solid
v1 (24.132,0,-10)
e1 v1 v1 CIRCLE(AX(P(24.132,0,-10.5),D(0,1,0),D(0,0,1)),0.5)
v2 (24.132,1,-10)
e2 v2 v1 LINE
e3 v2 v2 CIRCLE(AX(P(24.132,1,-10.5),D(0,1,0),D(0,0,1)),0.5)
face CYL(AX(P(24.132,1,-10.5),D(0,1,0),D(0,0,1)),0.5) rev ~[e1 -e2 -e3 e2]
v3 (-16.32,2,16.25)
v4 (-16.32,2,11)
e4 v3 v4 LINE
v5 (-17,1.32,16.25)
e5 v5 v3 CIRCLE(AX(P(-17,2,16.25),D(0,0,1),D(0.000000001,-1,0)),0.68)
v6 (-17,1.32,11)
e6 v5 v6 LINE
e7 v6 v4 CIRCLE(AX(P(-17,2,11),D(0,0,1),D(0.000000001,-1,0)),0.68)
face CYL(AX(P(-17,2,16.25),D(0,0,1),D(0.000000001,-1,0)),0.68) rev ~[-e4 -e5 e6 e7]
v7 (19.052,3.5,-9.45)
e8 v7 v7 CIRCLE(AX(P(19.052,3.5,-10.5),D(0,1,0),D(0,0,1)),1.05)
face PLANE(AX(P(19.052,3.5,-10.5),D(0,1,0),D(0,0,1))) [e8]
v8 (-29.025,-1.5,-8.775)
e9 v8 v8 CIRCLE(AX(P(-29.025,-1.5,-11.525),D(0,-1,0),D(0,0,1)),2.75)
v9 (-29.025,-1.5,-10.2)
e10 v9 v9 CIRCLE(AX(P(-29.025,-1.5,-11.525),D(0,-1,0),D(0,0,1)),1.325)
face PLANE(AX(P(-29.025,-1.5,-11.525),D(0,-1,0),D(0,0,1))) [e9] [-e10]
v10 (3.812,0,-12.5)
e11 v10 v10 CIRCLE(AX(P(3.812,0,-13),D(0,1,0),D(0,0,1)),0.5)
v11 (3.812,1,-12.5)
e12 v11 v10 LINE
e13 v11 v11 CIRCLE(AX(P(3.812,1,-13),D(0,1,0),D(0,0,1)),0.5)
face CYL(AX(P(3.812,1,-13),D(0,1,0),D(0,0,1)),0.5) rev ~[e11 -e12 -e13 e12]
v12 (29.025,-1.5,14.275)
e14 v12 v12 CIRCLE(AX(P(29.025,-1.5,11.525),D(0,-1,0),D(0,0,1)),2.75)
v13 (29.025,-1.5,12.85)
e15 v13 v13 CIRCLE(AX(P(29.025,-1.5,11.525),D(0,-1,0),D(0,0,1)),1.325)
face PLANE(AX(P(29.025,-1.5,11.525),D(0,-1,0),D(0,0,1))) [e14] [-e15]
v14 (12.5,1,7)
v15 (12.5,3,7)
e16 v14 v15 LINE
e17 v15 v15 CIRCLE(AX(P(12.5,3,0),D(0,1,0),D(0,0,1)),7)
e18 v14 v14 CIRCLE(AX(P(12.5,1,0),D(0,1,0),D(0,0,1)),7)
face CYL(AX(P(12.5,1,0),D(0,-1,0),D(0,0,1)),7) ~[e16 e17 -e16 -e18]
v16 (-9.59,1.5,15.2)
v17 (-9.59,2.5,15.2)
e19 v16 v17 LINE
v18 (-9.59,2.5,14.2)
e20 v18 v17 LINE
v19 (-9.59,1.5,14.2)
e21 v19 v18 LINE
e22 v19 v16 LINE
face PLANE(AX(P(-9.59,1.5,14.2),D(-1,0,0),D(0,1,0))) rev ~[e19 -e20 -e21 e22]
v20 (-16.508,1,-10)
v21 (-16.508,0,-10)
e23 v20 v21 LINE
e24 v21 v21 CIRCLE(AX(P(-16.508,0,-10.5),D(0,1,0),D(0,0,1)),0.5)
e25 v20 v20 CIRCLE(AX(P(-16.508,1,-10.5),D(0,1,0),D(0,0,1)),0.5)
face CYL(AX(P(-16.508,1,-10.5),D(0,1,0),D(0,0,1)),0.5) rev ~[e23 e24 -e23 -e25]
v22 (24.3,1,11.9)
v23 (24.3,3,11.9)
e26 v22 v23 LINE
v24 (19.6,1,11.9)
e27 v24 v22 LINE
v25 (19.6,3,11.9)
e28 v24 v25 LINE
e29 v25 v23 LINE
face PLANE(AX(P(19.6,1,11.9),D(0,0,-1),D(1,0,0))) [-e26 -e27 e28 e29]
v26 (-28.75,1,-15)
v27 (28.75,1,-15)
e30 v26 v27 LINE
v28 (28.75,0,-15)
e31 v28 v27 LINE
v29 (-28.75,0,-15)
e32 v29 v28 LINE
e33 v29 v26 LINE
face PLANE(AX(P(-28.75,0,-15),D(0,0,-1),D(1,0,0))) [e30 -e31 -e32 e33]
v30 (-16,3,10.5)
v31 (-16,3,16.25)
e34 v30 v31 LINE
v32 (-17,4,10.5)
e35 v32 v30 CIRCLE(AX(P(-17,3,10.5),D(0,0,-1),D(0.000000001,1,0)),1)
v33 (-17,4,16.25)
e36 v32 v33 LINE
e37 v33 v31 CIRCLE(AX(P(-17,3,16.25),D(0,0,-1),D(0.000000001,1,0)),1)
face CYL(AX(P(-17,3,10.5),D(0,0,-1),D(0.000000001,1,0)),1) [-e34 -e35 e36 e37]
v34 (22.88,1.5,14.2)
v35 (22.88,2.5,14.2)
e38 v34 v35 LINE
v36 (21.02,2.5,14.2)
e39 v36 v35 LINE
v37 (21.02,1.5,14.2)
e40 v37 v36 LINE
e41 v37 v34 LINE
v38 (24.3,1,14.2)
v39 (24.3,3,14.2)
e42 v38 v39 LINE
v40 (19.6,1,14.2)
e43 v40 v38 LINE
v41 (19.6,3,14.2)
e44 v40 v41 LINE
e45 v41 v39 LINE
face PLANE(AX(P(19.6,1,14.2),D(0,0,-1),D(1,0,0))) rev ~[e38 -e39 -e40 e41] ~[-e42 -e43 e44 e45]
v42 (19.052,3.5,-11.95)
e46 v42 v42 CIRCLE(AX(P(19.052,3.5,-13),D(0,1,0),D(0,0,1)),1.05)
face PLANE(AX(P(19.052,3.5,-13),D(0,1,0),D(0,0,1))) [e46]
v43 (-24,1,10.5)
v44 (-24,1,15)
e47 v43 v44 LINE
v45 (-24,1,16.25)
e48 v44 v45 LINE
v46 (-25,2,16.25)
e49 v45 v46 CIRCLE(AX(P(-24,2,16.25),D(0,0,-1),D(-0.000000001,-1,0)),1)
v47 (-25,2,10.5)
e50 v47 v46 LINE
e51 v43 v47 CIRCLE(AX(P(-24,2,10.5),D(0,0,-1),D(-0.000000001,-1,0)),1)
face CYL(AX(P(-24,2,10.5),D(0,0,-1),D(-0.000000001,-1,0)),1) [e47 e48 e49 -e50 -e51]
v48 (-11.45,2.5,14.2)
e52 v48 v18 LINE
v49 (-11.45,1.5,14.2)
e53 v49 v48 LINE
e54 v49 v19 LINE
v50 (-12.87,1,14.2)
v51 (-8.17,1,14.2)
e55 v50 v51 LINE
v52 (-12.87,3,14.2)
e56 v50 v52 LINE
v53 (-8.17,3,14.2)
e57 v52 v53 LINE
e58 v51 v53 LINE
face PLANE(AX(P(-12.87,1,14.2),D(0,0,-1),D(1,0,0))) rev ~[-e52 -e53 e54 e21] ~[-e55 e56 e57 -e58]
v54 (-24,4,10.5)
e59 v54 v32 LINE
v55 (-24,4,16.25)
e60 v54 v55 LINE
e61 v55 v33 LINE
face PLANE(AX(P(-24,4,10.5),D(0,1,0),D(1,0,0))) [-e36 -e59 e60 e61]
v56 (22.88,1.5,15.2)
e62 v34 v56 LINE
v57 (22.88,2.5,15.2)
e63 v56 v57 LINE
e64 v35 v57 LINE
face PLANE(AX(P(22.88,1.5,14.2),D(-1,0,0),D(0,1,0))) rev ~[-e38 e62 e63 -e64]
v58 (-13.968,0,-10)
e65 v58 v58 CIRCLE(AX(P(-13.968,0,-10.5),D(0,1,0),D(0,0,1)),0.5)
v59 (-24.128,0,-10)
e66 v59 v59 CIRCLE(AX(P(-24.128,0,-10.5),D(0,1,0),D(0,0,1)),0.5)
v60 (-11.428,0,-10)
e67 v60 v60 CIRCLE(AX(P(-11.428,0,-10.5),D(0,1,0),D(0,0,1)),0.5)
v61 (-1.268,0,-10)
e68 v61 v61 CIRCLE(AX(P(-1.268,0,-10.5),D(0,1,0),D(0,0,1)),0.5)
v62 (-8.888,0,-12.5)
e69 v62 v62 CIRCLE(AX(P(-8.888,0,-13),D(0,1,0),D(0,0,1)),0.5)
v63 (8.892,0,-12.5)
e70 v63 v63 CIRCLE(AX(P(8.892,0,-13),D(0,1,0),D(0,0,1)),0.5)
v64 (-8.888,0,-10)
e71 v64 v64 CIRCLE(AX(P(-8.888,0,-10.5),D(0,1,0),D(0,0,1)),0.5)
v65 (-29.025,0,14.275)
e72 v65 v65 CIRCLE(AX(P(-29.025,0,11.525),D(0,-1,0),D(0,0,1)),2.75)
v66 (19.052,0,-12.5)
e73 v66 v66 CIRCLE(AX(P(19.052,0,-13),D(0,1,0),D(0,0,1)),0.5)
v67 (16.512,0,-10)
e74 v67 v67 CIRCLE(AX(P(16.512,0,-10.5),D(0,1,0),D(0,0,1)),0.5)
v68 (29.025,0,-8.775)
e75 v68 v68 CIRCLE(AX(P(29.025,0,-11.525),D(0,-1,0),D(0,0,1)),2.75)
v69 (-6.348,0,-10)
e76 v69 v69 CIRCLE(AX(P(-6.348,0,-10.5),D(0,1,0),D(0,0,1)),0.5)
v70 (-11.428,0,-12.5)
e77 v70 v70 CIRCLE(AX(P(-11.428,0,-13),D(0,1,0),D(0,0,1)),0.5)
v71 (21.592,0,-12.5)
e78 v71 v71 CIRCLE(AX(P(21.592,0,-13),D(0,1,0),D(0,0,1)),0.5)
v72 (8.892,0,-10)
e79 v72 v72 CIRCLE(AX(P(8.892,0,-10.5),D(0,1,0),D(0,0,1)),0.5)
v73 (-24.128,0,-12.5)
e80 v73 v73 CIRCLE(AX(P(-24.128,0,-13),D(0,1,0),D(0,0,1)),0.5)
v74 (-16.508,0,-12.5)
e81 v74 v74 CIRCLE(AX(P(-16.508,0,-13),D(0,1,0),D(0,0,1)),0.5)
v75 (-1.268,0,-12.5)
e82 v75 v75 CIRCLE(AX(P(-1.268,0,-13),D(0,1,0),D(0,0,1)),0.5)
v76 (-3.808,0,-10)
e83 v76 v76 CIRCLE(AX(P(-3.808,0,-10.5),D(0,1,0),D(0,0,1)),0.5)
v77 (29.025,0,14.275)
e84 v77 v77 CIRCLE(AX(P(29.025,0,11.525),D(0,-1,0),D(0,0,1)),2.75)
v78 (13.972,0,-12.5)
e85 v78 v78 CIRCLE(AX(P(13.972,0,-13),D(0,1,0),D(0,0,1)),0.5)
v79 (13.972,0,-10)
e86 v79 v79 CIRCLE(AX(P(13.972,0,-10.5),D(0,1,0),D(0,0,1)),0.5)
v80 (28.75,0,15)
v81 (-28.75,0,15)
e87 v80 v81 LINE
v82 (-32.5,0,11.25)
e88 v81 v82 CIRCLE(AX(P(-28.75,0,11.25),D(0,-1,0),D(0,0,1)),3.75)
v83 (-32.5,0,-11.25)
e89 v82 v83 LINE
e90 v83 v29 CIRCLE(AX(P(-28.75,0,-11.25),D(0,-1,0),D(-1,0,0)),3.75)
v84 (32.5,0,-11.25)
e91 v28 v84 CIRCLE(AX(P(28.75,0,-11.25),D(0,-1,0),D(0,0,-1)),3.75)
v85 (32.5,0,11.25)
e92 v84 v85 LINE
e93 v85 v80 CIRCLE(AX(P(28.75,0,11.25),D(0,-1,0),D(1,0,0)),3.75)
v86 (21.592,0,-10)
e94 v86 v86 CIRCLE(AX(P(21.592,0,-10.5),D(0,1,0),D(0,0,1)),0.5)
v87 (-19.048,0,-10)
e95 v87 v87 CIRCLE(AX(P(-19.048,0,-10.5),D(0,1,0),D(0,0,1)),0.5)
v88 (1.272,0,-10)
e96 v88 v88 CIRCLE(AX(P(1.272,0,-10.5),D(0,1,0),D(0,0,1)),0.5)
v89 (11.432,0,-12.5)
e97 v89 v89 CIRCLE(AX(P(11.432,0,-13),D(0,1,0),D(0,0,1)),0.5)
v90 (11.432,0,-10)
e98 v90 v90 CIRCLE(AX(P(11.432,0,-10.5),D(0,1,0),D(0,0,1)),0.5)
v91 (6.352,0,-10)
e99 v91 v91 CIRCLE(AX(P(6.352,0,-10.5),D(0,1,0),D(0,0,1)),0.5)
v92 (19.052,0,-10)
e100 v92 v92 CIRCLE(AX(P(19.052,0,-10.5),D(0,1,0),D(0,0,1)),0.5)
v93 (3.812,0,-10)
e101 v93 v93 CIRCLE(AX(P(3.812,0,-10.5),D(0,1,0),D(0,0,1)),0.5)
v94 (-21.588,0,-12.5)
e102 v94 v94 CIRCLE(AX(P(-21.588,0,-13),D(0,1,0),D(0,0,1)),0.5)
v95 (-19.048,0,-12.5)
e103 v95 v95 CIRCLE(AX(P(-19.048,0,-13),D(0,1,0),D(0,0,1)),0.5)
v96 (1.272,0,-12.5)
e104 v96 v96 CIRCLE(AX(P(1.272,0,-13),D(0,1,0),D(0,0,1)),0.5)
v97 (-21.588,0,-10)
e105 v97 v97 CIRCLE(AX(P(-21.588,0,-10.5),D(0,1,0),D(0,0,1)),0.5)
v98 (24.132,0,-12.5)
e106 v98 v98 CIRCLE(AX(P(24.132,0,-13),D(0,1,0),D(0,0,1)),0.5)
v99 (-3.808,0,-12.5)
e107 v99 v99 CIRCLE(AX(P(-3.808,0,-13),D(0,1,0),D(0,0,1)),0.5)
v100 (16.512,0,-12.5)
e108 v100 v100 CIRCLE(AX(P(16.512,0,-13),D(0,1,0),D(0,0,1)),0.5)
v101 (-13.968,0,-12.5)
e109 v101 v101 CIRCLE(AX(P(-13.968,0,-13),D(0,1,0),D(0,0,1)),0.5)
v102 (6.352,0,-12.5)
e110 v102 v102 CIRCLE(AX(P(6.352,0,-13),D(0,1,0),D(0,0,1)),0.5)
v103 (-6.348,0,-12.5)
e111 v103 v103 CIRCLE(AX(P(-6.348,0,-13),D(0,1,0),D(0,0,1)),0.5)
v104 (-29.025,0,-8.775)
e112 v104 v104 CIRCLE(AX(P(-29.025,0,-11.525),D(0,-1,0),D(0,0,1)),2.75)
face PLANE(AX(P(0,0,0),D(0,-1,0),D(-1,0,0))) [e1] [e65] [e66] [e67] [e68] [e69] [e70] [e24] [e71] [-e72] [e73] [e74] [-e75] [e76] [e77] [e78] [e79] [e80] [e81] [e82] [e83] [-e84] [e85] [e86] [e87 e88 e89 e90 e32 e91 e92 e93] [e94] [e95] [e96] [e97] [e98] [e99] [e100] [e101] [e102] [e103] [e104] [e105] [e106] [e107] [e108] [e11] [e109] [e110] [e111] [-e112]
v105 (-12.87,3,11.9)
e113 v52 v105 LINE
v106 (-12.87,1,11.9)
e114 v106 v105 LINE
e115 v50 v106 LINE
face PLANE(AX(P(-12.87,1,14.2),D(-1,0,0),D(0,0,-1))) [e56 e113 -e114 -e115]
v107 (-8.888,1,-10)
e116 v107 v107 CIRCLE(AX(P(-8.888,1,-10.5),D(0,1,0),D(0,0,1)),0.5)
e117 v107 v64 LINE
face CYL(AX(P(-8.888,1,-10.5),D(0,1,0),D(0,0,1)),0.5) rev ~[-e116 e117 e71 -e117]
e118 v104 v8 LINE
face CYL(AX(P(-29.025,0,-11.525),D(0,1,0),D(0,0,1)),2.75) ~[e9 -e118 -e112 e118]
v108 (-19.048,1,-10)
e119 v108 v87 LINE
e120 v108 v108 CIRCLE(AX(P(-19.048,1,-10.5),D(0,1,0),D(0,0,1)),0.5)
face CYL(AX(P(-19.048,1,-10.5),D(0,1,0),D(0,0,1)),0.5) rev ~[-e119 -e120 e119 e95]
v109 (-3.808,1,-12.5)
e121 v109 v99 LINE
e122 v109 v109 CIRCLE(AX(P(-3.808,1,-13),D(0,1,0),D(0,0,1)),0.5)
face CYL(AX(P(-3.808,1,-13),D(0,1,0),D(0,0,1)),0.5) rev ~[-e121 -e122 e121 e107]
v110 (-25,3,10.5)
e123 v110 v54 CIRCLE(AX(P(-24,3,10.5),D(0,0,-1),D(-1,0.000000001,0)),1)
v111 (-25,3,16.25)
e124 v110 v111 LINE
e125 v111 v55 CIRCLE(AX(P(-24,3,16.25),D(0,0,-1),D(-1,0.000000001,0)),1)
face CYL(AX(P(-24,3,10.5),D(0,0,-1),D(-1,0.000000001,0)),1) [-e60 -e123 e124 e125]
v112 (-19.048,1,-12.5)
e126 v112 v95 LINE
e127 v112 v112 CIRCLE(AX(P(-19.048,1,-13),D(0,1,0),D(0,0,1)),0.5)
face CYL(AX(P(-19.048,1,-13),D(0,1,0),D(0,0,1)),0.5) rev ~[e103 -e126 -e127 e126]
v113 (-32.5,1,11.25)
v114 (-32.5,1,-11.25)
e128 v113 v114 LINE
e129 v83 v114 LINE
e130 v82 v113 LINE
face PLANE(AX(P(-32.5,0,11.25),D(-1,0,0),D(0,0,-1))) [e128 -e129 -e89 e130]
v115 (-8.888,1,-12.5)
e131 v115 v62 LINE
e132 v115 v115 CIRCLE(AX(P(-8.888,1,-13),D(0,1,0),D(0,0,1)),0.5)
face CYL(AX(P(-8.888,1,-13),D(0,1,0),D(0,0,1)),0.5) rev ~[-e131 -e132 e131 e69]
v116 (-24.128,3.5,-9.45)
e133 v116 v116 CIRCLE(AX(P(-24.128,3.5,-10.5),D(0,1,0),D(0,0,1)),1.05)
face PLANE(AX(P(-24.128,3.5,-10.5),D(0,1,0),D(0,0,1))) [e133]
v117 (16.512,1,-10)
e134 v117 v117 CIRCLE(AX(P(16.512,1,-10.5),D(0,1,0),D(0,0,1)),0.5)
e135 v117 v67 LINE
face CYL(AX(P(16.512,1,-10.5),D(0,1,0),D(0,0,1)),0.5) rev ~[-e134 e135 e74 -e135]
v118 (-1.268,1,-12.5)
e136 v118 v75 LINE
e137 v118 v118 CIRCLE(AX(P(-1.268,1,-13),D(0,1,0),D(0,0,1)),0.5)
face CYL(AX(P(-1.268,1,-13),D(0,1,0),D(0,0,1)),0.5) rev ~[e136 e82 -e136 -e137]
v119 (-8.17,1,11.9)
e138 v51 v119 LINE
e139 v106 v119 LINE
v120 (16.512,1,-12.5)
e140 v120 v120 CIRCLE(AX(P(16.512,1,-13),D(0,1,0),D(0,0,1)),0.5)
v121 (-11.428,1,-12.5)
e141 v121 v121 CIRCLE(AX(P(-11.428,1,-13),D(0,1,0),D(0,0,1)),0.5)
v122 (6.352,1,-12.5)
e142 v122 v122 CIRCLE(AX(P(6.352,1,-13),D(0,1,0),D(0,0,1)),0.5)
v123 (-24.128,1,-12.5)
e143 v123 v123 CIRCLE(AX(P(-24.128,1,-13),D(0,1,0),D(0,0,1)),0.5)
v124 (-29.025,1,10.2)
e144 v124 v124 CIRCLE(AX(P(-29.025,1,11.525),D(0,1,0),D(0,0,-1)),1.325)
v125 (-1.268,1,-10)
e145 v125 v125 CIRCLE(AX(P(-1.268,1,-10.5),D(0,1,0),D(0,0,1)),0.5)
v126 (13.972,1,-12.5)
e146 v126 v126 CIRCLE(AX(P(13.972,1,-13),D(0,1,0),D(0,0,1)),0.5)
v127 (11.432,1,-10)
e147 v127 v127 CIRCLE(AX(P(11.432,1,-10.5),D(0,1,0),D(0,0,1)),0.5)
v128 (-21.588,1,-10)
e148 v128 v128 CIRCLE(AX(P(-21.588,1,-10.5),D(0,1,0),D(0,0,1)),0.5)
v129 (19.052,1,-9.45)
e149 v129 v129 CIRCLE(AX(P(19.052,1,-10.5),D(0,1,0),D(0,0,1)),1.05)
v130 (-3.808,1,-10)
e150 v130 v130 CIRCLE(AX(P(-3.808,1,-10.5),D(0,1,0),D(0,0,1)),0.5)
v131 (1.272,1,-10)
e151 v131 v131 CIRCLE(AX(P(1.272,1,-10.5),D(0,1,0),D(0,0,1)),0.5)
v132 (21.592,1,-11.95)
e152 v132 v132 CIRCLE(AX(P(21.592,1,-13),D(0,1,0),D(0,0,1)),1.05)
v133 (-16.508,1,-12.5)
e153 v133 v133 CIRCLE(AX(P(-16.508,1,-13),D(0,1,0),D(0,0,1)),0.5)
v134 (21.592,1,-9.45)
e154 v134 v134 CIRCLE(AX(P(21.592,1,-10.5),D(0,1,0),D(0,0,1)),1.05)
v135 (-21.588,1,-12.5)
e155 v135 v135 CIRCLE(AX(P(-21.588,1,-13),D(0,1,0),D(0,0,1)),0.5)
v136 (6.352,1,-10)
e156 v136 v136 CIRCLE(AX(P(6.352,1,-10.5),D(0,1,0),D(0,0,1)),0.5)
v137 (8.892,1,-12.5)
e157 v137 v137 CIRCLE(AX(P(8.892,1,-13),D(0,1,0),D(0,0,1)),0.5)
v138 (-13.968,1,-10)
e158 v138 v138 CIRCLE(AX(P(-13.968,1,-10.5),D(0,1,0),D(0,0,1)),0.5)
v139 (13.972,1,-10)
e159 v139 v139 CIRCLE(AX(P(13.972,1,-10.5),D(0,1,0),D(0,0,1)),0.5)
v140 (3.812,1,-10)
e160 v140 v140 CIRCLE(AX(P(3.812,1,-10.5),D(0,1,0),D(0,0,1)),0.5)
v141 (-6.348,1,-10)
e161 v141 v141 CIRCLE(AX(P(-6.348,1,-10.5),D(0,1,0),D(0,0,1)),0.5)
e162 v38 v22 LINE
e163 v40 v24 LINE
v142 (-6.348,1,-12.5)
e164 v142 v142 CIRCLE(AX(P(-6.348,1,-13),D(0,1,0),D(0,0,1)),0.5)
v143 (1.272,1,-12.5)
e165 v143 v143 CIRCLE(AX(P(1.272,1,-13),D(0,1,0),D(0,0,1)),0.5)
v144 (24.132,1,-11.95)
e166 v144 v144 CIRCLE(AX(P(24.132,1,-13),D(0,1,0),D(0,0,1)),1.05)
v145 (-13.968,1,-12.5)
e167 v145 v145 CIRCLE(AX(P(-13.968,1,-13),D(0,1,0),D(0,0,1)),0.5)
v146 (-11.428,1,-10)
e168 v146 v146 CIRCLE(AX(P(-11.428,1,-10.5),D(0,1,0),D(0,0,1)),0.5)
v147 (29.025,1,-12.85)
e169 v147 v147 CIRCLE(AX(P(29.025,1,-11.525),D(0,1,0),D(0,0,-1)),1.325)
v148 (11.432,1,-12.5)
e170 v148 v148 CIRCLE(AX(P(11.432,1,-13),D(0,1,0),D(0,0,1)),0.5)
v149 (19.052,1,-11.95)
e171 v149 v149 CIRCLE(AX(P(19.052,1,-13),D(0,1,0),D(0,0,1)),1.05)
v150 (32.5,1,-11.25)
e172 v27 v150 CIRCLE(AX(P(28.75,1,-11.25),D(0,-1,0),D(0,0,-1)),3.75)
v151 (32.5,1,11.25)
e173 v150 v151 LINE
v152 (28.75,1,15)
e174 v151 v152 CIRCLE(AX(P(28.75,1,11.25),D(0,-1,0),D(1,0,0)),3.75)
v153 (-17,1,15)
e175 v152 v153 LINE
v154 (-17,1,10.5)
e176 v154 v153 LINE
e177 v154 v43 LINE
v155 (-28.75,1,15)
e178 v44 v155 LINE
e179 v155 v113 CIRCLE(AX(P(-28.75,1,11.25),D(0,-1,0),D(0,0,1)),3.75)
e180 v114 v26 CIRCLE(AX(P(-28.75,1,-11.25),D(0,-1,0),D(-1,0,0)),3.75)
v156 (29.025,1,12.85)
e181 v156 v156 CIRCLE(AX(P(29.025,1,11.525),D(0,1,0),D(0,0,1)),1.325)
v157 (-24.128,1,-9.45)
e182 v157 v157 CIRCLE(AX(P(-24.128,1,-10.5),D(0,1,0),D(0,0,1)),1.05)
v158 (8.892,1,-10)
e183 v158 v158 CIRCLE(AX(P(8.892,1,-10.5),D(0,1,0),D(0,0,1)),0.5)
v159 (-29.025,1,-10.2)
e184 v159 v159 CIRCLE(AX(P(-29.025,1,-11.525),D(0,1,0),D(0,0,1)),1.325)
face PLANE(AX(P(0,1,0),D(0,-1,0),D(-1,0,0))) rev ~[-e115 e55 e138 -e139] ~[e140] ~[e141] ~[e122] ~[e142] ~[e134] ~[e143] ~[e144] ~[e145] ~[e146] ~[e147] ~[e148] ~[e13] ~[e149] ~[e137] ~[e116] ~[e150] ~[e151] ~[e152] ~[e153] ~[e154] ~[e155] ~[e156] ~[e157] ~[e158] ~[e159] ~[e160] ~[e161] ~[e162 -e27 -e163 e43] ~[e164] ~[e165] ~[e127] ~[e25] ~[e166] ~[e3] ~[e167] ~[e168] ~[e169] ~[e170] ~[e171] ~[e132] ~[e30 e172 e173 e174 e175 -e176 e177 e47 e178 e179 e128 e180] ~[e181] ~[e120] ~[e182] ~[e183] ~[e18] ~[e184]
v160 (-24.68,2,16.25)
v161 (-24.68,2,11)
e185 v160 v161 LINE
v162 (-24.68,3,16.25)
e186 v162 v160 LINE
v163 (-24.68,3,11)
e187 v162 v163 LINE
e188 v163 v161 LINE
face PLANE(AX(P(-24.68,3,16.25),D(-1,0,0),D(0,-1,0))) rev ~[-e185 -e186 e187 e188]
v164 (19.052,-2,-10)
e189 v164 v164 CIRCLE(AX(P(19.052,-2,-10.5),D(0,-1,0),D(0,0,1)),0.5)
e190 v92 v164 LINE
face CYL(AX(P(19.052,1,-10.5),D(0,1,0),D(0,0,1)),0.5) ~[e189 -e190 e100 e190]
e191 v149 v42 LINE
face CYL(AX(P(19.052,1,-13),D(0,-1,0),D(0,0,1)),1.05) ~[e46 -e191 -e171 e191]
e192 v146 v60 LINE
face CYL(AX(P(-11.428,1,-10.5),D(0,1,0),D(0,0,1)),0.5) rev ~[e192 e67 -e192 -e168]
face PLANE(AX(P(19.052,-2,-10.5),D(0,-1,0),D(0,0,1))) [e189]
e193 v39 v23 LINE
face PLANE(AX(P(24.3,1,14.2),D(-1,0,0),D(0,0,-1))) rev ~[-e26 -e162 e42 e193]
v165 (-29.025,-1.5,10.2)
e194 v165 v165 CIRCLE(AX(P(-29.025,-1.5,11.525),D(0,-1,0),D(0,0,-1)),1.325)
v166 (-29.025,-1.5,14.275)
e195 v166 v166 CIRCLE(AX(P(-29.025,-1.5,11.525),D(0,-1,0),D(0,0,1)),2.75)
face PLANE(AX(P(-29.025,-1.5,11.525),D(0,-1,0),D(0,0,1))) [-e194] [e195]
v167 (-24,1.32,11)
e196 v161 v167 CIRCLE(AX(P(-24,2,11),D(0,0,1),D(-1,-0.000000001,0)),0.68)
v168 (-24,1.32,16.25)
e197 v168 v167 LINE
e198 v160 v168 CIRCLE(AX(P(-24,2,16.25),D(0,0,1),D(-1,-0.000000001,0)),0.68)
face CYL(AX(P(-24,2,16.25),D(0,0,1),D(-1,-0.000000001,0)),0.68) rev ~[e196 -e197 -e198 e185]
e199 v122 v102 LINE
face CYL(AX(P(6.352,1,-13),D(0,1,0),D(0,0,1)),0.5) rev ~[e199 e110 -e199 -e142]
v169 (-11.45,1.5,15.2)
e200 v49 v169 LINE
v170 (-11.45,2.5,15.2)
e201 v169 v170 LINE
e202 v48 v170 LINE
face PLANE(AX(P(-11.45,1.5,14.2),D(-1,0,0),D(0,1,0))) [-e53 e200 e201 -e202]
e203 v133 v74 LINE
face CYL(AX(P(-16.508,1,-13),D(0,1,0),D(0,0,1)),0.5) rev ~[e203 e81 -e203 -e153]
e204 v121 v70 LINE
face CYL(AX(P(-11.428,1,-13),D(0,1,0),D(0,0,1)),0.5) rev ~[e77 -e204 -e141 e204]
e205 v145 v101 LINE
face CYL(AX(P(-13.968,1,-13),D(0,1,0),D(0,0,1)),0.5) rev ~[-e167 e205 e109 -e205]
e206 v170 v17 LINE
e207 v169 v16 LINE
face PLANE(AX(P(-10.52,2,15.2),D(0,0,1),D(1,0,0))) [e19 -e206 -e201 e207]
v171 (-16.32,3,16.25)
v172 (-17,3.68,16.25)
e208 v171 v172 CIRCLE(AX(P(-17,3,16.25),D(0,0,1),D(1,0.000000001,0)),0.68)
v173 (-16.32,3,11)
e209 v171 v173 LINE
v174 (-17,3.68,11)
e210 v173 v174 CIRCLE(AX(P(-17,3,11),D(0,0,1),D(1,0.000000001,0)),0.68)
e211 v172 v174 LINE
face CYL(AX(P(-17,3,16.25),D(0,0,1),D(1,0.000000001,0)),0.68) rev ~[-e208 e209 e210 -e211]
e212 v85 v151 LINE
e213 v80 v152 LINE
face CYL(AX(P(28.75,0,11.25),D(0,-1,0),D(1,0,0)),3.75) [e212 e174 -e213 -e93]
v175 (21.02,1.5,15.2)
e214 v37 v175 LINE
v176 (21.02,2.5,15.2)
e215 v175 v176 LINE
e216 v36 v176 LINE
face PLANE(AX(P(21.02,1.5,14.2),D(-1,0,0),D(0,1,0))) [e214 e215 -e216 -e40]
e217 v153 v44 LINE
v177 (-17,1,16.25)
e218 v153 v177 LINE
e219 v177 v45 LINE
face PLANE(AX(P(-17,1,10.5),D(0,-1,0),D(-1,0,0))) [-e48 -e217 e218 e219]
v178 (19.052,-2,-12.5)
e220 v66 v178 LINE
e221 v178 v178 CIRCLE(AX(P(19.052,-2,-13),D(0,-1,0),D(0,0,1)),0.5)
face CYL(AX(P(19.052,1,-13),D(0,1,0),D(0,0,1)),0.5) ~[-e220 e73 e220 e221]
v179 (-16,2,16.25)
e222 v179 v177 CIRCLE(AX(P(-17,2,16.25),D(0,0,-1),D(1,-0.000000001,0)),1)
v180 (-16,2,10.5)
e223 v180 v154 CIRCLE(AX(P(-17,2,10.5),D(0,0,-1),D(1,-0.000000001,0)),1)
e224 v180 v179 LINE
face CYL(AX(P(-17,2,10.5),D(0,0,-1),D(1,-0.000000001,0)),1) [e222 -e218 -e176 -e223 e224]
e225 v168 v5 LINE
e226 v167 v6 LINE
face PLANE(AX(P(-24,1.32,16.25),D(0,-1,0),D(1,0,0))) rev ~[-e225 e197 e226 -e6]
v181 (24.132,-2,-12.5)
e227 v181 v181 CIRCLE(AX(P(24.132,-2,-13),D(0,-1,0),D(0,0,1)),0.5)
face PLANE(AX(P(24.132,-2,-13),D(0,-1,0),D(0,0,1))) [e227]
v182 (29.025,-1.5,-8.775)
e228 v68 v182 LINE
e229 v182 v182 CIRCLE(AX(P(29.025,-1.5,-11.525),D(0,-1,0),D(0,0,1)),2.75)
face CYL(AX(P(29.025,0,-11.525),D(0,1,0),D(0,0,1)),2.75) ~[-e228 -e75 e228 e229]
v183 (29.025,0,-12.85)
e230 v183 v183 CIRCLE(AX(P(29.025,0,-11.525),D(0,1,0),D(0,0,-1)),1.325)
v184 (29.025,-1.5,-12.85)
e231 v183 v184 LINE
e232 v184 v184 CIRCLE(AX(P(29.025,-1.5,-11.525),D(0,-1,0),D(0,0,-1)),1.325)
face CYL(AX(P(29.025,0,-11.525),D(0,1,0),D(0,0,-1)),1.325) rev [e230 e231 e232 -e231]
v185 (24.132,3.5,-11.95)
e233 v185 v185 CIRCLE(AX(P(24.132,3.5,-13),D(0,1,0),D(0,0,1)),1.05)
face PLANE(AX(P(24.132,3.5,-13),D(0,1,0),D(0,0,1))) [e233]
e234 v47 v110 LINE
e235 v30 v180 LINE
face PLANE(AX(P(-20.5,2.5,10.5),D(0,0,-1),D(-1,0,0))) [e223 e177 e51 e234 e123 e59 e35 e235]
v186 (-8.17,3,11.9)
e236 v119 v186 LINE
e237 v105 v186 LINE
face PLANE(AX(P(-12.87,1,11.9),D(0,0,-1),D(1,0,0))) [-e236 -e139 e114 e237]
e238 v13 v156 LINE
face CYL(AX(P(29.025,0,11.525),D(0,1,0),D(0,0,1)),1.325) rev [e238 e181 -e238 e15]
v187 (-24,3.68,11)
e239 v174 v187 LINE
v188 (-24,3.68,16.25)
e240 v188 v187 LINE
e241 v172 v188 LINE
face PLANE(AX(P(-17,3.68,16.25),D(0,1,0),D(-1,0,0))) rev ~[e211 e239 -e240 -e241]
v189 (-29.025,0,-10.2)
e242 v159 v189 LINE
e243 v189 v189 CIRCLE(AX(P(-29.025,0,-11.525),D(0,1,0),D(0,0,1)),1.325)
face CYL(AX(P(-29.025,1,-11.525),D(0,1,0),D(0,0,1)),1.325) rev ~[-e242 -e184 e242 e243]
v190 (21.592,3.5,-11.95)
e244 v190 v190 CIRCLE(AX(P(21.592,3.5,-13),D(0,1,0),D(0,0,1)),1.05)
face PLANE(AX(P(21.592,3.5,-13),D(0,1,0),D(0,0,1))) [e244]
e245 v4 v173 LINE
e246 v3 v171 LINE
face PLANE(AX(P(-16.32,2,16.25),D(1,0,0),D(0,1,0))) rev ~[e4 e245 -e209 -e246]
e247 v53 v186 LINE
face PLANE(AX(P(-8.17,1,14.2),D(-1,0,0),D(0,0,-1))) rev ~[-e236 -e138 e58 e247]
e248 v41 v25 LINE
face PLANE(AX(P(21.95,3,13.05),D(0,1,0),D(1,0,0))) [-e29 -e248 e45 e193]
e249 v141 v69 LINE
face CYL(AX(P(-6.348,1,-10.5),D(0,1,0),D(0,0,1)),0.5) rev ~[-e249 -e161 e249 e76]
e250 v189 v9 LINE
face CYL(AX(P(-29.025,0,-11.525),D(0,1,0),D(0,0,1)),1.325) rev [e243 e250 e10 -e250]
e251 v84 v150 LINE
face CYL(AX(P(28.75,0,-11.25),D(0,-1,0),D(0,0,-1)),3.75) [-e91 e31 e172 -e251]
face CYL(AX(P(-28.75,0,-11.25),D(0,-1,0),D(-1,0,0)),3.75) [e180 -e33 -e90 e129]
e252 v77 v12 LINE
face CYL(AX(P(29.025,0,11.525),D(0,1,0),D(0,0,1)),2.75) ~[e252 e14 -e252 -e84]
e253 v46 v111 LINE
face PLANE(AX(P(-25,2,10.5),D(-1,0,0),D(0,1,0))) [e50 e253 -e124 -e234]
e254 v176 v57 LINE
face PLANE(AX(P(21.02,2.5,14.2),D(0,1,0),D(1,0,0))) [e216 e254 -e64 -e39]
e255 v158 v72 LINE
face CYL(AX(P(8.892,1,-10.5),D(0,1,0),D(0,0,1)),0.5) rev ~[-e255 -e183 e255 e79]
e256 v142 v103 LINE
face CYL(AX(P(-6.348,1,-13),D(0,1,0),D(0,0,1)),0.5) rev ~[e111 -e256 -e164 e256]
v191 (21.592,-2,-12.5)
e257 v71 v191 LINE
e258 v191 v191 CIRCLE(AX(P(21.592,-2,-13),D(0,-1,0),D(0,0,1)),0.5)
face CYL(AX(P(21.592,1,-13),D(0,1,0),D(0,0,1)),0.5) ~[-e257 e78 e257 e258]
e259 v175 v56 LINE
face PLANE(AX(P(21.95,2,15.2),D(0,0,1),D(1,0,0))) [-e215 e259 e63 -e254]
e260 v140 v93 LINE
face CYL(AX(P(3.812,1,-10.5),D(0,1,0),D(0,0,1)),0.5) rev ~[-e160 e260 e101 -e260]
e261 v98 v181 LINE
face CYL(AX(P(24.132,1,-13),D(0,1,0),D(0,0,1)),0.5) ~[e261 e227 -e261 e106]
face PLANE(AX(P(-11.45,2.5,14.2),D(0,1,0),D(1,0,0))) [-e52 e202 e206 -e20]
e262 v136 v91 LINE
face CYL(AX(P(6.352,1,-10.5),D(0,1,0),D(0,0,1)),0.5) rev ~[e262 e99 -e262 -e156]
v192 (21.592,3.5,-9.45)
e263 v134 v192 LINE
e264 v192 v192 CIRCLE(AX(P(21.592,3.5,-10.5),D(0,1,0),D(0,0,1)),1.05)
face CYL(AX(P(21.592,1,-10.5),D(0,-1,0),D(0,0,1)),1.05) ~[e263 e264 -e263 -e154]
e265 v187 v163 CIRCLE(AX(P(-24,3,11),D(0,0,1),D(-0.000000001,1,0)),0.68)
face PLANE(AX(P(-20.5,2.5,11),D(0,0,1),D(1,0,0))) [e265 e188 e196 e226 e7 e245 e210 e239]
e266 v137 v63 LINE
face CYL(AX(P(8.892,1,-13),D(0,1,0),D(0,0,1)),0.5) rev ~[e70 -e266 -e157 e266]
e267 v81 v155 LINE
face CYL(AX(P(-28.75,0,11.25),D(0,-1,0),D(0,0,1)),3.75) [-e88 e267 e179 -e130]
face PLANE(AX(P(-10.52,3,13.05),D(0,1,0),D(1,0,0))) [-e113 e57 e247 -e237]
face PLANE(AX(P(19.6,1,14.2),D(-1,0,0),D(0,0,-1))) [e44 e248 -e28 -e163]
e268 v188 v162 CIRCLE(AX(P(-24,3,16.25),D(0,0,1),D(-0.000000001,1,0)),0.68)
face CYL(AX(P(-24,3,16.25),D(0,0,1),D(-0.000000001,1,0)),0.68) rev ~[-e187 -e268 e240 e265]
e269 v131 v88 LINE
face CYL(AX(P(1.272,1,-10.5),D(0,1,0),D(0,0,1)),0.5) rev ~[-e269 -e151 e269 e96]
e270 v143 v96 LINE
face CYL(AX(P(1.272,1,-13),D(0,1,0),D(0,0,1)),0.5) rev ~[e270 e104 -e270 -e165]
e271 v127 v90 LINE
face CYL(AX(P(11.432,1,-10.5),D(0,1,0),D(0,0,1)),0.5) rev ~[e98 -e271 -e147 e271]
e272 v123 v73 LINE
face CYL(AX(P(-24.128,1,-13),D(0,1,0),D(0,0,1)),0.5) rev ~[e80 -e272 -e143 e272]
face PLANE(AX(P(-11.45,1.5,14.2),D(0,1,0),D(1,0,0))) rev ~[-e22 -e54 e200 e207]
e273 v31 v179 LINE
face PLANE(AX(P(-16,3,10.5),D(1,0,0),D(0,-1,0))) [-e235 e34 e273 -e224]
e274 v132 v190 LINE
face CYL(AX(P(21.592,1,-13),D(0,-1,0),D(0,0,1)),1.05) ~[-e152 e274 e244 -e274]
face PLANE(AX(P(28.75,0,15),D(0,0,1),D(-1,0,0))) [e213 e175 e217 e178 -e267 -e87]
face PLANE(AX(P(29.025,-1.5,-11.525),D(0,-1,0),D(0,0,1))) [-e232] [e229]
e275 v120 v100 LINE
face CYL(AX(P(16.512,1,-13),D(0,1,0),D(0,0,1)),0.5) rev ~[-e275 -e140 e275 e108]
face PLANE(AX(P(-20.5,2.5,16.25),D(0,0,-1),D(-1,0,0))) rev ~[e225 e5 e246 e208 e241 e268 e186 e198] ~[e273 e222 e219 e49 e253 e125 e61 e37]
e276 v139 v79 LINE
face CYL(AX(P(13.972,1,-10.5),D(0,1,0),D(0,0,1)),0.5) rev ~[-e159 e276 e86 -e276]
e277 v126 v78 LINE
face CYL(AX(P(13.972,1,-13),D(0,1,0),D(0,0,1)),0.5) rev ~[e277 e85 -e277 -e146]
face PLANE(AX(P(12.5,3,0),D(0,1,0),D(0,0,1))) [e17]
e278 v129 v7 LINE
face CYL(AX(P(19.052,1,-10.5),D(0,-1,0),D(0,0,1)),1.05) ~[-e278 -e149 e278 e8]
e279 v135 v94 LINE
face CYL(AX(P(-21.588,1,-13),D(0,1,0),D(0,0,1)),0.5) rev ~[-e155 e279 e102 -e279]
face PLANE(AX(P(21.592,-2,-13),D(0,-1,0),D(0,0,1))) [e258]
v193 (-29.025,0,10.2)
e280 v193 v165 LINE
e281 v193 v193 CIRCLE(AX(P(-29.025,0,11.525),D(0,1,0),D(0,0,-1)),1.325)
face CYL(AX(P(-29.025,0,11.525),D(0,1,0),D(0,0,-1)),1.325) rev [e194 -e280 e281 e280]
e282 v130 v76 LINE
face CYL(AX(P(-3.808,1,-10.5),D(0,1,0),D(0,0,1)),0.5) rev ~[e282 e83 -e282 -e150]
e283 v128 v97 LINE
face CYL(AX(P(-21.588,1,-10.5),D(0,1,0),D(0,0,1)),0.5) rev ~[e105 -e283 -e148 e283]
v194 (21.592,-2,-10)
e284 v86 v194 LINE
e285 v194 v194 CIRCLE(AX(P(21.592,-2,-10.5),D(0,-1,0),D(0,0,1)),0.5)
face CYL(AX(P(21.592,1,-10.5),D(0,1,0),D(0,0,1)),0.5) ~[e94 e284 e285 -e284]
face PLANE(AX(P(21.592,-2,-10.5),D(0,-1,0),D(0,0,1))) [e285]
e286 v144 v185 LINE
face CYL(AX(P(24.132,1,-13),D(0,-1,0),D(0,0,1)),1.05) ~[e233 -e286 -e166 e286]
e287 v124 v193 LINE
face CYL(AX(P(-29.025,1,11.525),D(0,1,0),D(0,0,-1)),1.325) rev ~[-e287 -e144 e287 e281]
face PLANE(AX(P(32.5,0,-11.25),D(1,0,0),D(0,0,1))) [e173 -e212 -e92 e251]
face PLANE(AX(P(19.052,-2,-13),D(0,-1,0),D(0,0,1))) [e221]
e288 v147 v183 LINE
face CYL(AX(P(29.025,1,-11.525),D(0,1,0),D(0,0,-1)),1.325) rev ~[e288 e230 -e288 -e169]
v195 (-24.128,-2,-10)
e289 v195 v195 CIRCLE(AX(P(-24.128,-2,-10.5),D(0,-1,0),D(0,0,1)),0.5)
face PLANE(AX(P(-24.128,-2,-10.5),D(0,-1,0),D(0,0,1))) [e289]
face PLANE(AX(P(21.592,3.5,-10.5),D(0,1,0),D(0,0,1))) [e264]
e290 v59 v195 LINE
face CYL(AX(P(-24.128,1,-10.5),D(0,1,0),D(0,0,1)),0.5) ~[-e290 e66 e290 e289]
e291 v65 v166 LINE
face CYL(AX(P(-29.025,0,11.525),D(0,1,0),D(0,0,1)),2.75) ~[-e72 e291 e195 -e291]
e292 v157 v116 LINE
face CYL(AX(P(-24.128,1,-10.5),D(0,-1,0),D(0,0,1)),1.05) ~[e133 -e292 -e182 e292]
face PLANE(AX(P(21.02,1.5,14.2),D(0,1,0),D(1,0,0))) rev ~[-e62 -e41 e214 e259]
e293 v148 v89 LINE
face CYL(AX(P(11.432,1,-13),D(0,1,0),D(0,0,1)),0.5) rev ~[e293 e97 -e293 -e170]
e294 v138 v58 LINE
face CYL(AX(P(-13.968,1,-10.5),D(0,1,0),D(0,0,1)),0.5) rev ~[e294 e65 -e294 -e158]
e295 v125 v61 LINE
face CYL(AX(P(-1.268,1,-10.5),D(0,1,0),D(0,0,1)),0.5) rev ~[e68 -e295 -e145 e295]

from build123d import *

# Parameters (mm, degrees)
BOSS_EXTRUDE1_DEPTH      = 1
SKETCH2_R                = 1.325
CUT_EXTRUDE1_DEPTH       = 36.80851854
SKETCH3_R                = 0.5
CUT_EXTRUDE2_DEPTH       = 36.80851854
LPATTERN1_COUNT          = 20
LPATTERN1_PITCH          = 2.54
BOSS_EXTRUDE6_DEPTH      = 1.25
BOSS_EXTRUDE6_DEPTH_BACK = 4.5
CUT_EXTRUDE9_DEPTH       = 5.25
SKETCH_1_W               = 4.7
SKETCH_1_H               = 2.3
EXTRUDE_1_DEPTH          = 2
SKETCH_2_W               = 1.86
SKETCH_2_H               = 1
EXTRUDE_2_DEPTH          = 1
SKETCH_9_R               = 2.75
SKETCH_9_R_2             = 1.325
EXTRUDE_8_DEPTH          = 1.5
SKETCH_10_R              = 1.05
EXTRUDE_9_DEPTH          = 2.5
SKETCH_11_R              = 0.5
EXTRUDE_10_DEPTH         = 3
SKETCH_12_R              = 7
EXTRUDE_11_DEPTH         = 2


with BuildPart() as part:
    # Sketch1 → Boss-Extrude1 (new body)
    with BuildSketch(Plane(origin=(0, 0, 0), x_dir=(1, 0, 0), z_dir=(0, 1, 0))):
        with BuildLine():
            Line((-28.75, 15), (28.75, 15))
            ThreePointArc((28.75, 15), (31.401650429, 13.901650429), (32.5, 11.25))
            Line((32.5, 11.25), (32.5, -11.25))
            ThreePointArc((32.5, -11.25), (31.401650429, -13.901650429), (28.75, -15))
            Line((28.75, -15), (-28.75, -15))
            ThreePointArc((-28.75, -15), (-31.401650429, -13.901650429), (-32.5, -11.25))
            Line((-32.5, -11.25), (-32.5, 11.25))
            ThreePointArc((-32.5, 11.25), (-31.401650429, 13.901650429), (-28.75, 15))
        make_face()
    extrude(amount=BOSS_EXTRUDE1_DEPTH)

    # Sketch2 → Cut-Extrude1 (cut, through all)
    with BuildSketch(Plane(origin=(0, 1, 0), x_dir=(1, 0, 0), z_dir=(0, 1, 0))):
        with Locations(Location((-29.025, 11.525, 0), (0, 0, 270))):
            Circle(SKETCH2_R)
        with Locations(Location((29.025, 11.525, 0), (0, 0, 90))):
            Circle(SKETCH2_R)
        with Locations(Location((29.025, -11.525, 0), (0, 0, 270))):
            Circle(SKETCH2_R)
        with Locations(Location((-29.025, -11.525, 0), (0, 0, 90))):
            Circle(SKETCH2_R)
    extrude(amount=-CUT_EXTRUDE1_DEPTH, mode=Mode.SUBTRACT)

    # Sketch3 → Cut-Extrude2 (cut, through all)
    with BuildSketch(Plane(origin=(0, 1, 0), x_dir=(1, 0, 0), z_dir=(0, 1, 0))):
        with Locations(Location((-24.128, 13, 0), (0, 0, 270))):
            Circle(SKETCH3_R)
        with Locations(Location((-24.128, 10.5, 0), (0, 0, 270))):
            Circle(SKETCH3_R)
    cut_extrude2 = extrude(amount=-CUT_EXTRUDE2_DEPTH, mode=Mode.SUBTRACT)

    # LPattern1: Cut-Extrude2 ×20
    with Locations(*[(i * LPATTERN1_PITCH, 0, 0) for i in range(1, LPATTERN1_COUNT)]):
        add(cut_extrude2, mode=Mode.SUBTRACT)

    # Sketch15 → Boss-Extrude6 (add, two sides: drawn at the far end of the back side and taken through both)
    with BuildSketch(Plane.XY.offset(15).offset(-BOSS_EXTRUDE6_DEPTH_BACK)):
        with BuildLine():
            Line((-24, 4), (-17, 4))
            ThreePointArc((-17, 4), (-16.292893219, 3.707106781), (-16, 3))
            Line((-16, 3), (-16, 2))
            ThreePointArc((-16, 2), (-16.292893219, 1.292893219), (-17, 1))
            Line((-17, 1), (-24, 1))
            ThreePointArc((-24, 1), (-24.707106781, 1.292893219), (-25, 2))
            Line((-25, 2), (-25, 3))
            ThreePointArc((-25, 3), (-24.707106781, 3.707106781), (-24, 4))
        make_face()
    extrude(amount=BOSS_EXTRUDE6_DEPTH + BOSS_EXTRUDE6_DEPTH_BACK)

    # Sketch16 → Cut-Extrude9 (cut)
    with BuildSketch(Plane.XY.offset(16.25)):
        with BuildLine():
            Line((-17, 3.68), (-24, 3.68))
            ThreePointArc((-24, 3.68), (-24.480832611, 3.480832611), (-24.68, 3))
            Line((-24.68, 3), (-24.68, 2))
            ThreePointArc((-24.68, 2), (-24.480832611, 1.519167389), (-24, 1.32))
            Line((-24, 1.32), (-17, 1.32))
            ThreePointArc((-17, 1.32), (-16.519167389, 1.519167389), (-16.32, 2))
            Line((-16.32, 2), (-16.32, 3))
            ThreePointArc((-16.32, 3), (-16.519167389, 3.480832611), (-17, 3.68))
        make_face()
    extrude(amount=-CUT_EXTRUDE9_DEPTH, mode=Mode.SUBTRACT)

    # 草图1 → 凸台-拉伸1 (add)
    with BuildSketch(Plane(origin=(0, 1, 0), x_dir=(1, 0, 0), z_dir=(0, 1, 0))):
        with Locations((-10.52, -13.05)):
            Rectangle(SKETCH_1_W, SKETCH_1_H)
        with Locations((21.95, -13.05)):
            Rectangle(SKETCH_1_W, SKETCH_1_H)
    extrude(amount=EXTRUDE_1_DEPTH)

    # 草图2 → 凸台-拉伸2 (add)
    with BuildSketch(Plane.XY.offset(14.2)):
        with Locations((-10.52, 2)):
            Rectangle(SKETCH_2_W, SKETCH_2_H)
        with Locations((21.95, 2)):
            Rectangle(SKETCH_2_W, SKETCH_2_H)
    extrude(amount=EXTRUDE_2_DEPTH)

    # 草图9 → 凸台-拉伸8 (add)
    # profile 1 of 4: a face of its own
    with BuildSketch(Plane.XZ):
        with Locations(Location((29.025, 11.525, 0), (0, 0, 90))):
            Circle(SKETCH_9_R)
        with Locations(Location((29.025, 11.525, 0), (0, 0, 90))):
            Circle(SKETCH_9_R_2, mode=Mode.SUBTRACT)
    # profile 2 of 4: a face of its own
    with BuildSketch(Plane.XZ):
        with Locations(Location((29.025, -11.525, 0), (0, 0, 90))):
            Circle(SKETCH_9_R)
        with Locations(Location((29.025, -11.525, 0), (0, 0, 270))):
            Circle(SKETCH_9_R_2, mode=Mode.SUBTRACT)
    # profile 3 of 4: a face of its own
    with BuildSketch(Plane.XZ):
        with Locations(Location((-29.025, 11.525, 0), (0, 0, 90))):
            Circle(SKETCH_9_R)
        with Locations(Location((-29.025, 11.525, 0), (0, 0, 270))):
            Circle(SKETCH_9_R_2, mode=Mode.SUBTRACT)
    # profile 4 of 4: a face of its own
    with BuildSketch(Plane.XZ):
        with Locations(Location((-29.025, -11.525, 0), (0, 0, 90))):
            Circle(SKETCH_9_R)
        with Locations(Location((-29.025, -11.525, 0), (0, 0, 90))):
            Circle(SKETCH_9_R_2, mode=Mode.SUBTRACT)
    extrude(amount=EXTRUDE_8_DEPTH)

    # 草图10 → 凸台-拉伸9 (add)
    with BuildSketch(Plane(origin=(0, 1, 0), x_dir=(1, 0, 0), z_dir=(0, 1, 0))):
        with Locations(Location((24.132, 13, 0), (0, 0, 270))):
            Circle(SKETCH_10_R)
        with Locations(Location((21.592, 13, 0), (0, 0, 270))):
            Circle(SKETCH_10_R)
        with Locations(Location((19.052, 13, 0), (0, 0, 270))):
            Circle(SKETCH_10_R)
        with Locations(Location((21.592, 10.5, 0), (0, 0, 270))):
            Circle(SKETCH_10_R)
        with Locations(Location((19.052, 10.5, 0), (0, 0, 270))):
            Circle(SKETCH_10_R)
        with Locations(Location((-24.128, 10.5, 0), (0, 0, 270))):
            Circle(SKETCH_10_R)
    extrude(amount=EXTRUDE_9_DEPTH)

    # 草图11 → 凸台-拉伸10 (add)
    with BuildSketch(Plane.XZ.offset(-1)):
        with Locations(Location((24.132, -13, 0), (0, 0, 90))):
            Circle(SKETCH_11_R)
        with Locations(Location((21.592, -13, 0), (0, 0, 90))):
            Circle(SKETCH_11_R)
        with Locations(Location((21.592, -10.5, 0), (0, 0, 90))):
            Circle(SKETCH_11_R)
        with Locations(Location((19.052, -10.5, 0), (0, 0, 90))):
            Circle(SKETCH_11_R)
        with Locations(Location((19.052, -13, 0), (0, 0, 90))):
            Circle(SKETCH_11_R)
        with Locations(Location((-24.128, -10.5, 0), (0, 0, 90))):
            Circle(SKETCH_11_R)
    extrude(amount=EXTRUDE_10_DEPTH)

    # 草图12 → 凸台-拉伸11 (add)
    with BuildSketch(Plane(origin=(0, 1, 0), x_dir=(1, 0, 0), z_dir=(0, 1, 0))):
        with Locations(Location((12.5, 0, 0), (0, 0, 270))):
            Circle(SKETCH_12_R)
    extrude(amount=EXTRUDE_11_DEPTH)


solid = part.part
